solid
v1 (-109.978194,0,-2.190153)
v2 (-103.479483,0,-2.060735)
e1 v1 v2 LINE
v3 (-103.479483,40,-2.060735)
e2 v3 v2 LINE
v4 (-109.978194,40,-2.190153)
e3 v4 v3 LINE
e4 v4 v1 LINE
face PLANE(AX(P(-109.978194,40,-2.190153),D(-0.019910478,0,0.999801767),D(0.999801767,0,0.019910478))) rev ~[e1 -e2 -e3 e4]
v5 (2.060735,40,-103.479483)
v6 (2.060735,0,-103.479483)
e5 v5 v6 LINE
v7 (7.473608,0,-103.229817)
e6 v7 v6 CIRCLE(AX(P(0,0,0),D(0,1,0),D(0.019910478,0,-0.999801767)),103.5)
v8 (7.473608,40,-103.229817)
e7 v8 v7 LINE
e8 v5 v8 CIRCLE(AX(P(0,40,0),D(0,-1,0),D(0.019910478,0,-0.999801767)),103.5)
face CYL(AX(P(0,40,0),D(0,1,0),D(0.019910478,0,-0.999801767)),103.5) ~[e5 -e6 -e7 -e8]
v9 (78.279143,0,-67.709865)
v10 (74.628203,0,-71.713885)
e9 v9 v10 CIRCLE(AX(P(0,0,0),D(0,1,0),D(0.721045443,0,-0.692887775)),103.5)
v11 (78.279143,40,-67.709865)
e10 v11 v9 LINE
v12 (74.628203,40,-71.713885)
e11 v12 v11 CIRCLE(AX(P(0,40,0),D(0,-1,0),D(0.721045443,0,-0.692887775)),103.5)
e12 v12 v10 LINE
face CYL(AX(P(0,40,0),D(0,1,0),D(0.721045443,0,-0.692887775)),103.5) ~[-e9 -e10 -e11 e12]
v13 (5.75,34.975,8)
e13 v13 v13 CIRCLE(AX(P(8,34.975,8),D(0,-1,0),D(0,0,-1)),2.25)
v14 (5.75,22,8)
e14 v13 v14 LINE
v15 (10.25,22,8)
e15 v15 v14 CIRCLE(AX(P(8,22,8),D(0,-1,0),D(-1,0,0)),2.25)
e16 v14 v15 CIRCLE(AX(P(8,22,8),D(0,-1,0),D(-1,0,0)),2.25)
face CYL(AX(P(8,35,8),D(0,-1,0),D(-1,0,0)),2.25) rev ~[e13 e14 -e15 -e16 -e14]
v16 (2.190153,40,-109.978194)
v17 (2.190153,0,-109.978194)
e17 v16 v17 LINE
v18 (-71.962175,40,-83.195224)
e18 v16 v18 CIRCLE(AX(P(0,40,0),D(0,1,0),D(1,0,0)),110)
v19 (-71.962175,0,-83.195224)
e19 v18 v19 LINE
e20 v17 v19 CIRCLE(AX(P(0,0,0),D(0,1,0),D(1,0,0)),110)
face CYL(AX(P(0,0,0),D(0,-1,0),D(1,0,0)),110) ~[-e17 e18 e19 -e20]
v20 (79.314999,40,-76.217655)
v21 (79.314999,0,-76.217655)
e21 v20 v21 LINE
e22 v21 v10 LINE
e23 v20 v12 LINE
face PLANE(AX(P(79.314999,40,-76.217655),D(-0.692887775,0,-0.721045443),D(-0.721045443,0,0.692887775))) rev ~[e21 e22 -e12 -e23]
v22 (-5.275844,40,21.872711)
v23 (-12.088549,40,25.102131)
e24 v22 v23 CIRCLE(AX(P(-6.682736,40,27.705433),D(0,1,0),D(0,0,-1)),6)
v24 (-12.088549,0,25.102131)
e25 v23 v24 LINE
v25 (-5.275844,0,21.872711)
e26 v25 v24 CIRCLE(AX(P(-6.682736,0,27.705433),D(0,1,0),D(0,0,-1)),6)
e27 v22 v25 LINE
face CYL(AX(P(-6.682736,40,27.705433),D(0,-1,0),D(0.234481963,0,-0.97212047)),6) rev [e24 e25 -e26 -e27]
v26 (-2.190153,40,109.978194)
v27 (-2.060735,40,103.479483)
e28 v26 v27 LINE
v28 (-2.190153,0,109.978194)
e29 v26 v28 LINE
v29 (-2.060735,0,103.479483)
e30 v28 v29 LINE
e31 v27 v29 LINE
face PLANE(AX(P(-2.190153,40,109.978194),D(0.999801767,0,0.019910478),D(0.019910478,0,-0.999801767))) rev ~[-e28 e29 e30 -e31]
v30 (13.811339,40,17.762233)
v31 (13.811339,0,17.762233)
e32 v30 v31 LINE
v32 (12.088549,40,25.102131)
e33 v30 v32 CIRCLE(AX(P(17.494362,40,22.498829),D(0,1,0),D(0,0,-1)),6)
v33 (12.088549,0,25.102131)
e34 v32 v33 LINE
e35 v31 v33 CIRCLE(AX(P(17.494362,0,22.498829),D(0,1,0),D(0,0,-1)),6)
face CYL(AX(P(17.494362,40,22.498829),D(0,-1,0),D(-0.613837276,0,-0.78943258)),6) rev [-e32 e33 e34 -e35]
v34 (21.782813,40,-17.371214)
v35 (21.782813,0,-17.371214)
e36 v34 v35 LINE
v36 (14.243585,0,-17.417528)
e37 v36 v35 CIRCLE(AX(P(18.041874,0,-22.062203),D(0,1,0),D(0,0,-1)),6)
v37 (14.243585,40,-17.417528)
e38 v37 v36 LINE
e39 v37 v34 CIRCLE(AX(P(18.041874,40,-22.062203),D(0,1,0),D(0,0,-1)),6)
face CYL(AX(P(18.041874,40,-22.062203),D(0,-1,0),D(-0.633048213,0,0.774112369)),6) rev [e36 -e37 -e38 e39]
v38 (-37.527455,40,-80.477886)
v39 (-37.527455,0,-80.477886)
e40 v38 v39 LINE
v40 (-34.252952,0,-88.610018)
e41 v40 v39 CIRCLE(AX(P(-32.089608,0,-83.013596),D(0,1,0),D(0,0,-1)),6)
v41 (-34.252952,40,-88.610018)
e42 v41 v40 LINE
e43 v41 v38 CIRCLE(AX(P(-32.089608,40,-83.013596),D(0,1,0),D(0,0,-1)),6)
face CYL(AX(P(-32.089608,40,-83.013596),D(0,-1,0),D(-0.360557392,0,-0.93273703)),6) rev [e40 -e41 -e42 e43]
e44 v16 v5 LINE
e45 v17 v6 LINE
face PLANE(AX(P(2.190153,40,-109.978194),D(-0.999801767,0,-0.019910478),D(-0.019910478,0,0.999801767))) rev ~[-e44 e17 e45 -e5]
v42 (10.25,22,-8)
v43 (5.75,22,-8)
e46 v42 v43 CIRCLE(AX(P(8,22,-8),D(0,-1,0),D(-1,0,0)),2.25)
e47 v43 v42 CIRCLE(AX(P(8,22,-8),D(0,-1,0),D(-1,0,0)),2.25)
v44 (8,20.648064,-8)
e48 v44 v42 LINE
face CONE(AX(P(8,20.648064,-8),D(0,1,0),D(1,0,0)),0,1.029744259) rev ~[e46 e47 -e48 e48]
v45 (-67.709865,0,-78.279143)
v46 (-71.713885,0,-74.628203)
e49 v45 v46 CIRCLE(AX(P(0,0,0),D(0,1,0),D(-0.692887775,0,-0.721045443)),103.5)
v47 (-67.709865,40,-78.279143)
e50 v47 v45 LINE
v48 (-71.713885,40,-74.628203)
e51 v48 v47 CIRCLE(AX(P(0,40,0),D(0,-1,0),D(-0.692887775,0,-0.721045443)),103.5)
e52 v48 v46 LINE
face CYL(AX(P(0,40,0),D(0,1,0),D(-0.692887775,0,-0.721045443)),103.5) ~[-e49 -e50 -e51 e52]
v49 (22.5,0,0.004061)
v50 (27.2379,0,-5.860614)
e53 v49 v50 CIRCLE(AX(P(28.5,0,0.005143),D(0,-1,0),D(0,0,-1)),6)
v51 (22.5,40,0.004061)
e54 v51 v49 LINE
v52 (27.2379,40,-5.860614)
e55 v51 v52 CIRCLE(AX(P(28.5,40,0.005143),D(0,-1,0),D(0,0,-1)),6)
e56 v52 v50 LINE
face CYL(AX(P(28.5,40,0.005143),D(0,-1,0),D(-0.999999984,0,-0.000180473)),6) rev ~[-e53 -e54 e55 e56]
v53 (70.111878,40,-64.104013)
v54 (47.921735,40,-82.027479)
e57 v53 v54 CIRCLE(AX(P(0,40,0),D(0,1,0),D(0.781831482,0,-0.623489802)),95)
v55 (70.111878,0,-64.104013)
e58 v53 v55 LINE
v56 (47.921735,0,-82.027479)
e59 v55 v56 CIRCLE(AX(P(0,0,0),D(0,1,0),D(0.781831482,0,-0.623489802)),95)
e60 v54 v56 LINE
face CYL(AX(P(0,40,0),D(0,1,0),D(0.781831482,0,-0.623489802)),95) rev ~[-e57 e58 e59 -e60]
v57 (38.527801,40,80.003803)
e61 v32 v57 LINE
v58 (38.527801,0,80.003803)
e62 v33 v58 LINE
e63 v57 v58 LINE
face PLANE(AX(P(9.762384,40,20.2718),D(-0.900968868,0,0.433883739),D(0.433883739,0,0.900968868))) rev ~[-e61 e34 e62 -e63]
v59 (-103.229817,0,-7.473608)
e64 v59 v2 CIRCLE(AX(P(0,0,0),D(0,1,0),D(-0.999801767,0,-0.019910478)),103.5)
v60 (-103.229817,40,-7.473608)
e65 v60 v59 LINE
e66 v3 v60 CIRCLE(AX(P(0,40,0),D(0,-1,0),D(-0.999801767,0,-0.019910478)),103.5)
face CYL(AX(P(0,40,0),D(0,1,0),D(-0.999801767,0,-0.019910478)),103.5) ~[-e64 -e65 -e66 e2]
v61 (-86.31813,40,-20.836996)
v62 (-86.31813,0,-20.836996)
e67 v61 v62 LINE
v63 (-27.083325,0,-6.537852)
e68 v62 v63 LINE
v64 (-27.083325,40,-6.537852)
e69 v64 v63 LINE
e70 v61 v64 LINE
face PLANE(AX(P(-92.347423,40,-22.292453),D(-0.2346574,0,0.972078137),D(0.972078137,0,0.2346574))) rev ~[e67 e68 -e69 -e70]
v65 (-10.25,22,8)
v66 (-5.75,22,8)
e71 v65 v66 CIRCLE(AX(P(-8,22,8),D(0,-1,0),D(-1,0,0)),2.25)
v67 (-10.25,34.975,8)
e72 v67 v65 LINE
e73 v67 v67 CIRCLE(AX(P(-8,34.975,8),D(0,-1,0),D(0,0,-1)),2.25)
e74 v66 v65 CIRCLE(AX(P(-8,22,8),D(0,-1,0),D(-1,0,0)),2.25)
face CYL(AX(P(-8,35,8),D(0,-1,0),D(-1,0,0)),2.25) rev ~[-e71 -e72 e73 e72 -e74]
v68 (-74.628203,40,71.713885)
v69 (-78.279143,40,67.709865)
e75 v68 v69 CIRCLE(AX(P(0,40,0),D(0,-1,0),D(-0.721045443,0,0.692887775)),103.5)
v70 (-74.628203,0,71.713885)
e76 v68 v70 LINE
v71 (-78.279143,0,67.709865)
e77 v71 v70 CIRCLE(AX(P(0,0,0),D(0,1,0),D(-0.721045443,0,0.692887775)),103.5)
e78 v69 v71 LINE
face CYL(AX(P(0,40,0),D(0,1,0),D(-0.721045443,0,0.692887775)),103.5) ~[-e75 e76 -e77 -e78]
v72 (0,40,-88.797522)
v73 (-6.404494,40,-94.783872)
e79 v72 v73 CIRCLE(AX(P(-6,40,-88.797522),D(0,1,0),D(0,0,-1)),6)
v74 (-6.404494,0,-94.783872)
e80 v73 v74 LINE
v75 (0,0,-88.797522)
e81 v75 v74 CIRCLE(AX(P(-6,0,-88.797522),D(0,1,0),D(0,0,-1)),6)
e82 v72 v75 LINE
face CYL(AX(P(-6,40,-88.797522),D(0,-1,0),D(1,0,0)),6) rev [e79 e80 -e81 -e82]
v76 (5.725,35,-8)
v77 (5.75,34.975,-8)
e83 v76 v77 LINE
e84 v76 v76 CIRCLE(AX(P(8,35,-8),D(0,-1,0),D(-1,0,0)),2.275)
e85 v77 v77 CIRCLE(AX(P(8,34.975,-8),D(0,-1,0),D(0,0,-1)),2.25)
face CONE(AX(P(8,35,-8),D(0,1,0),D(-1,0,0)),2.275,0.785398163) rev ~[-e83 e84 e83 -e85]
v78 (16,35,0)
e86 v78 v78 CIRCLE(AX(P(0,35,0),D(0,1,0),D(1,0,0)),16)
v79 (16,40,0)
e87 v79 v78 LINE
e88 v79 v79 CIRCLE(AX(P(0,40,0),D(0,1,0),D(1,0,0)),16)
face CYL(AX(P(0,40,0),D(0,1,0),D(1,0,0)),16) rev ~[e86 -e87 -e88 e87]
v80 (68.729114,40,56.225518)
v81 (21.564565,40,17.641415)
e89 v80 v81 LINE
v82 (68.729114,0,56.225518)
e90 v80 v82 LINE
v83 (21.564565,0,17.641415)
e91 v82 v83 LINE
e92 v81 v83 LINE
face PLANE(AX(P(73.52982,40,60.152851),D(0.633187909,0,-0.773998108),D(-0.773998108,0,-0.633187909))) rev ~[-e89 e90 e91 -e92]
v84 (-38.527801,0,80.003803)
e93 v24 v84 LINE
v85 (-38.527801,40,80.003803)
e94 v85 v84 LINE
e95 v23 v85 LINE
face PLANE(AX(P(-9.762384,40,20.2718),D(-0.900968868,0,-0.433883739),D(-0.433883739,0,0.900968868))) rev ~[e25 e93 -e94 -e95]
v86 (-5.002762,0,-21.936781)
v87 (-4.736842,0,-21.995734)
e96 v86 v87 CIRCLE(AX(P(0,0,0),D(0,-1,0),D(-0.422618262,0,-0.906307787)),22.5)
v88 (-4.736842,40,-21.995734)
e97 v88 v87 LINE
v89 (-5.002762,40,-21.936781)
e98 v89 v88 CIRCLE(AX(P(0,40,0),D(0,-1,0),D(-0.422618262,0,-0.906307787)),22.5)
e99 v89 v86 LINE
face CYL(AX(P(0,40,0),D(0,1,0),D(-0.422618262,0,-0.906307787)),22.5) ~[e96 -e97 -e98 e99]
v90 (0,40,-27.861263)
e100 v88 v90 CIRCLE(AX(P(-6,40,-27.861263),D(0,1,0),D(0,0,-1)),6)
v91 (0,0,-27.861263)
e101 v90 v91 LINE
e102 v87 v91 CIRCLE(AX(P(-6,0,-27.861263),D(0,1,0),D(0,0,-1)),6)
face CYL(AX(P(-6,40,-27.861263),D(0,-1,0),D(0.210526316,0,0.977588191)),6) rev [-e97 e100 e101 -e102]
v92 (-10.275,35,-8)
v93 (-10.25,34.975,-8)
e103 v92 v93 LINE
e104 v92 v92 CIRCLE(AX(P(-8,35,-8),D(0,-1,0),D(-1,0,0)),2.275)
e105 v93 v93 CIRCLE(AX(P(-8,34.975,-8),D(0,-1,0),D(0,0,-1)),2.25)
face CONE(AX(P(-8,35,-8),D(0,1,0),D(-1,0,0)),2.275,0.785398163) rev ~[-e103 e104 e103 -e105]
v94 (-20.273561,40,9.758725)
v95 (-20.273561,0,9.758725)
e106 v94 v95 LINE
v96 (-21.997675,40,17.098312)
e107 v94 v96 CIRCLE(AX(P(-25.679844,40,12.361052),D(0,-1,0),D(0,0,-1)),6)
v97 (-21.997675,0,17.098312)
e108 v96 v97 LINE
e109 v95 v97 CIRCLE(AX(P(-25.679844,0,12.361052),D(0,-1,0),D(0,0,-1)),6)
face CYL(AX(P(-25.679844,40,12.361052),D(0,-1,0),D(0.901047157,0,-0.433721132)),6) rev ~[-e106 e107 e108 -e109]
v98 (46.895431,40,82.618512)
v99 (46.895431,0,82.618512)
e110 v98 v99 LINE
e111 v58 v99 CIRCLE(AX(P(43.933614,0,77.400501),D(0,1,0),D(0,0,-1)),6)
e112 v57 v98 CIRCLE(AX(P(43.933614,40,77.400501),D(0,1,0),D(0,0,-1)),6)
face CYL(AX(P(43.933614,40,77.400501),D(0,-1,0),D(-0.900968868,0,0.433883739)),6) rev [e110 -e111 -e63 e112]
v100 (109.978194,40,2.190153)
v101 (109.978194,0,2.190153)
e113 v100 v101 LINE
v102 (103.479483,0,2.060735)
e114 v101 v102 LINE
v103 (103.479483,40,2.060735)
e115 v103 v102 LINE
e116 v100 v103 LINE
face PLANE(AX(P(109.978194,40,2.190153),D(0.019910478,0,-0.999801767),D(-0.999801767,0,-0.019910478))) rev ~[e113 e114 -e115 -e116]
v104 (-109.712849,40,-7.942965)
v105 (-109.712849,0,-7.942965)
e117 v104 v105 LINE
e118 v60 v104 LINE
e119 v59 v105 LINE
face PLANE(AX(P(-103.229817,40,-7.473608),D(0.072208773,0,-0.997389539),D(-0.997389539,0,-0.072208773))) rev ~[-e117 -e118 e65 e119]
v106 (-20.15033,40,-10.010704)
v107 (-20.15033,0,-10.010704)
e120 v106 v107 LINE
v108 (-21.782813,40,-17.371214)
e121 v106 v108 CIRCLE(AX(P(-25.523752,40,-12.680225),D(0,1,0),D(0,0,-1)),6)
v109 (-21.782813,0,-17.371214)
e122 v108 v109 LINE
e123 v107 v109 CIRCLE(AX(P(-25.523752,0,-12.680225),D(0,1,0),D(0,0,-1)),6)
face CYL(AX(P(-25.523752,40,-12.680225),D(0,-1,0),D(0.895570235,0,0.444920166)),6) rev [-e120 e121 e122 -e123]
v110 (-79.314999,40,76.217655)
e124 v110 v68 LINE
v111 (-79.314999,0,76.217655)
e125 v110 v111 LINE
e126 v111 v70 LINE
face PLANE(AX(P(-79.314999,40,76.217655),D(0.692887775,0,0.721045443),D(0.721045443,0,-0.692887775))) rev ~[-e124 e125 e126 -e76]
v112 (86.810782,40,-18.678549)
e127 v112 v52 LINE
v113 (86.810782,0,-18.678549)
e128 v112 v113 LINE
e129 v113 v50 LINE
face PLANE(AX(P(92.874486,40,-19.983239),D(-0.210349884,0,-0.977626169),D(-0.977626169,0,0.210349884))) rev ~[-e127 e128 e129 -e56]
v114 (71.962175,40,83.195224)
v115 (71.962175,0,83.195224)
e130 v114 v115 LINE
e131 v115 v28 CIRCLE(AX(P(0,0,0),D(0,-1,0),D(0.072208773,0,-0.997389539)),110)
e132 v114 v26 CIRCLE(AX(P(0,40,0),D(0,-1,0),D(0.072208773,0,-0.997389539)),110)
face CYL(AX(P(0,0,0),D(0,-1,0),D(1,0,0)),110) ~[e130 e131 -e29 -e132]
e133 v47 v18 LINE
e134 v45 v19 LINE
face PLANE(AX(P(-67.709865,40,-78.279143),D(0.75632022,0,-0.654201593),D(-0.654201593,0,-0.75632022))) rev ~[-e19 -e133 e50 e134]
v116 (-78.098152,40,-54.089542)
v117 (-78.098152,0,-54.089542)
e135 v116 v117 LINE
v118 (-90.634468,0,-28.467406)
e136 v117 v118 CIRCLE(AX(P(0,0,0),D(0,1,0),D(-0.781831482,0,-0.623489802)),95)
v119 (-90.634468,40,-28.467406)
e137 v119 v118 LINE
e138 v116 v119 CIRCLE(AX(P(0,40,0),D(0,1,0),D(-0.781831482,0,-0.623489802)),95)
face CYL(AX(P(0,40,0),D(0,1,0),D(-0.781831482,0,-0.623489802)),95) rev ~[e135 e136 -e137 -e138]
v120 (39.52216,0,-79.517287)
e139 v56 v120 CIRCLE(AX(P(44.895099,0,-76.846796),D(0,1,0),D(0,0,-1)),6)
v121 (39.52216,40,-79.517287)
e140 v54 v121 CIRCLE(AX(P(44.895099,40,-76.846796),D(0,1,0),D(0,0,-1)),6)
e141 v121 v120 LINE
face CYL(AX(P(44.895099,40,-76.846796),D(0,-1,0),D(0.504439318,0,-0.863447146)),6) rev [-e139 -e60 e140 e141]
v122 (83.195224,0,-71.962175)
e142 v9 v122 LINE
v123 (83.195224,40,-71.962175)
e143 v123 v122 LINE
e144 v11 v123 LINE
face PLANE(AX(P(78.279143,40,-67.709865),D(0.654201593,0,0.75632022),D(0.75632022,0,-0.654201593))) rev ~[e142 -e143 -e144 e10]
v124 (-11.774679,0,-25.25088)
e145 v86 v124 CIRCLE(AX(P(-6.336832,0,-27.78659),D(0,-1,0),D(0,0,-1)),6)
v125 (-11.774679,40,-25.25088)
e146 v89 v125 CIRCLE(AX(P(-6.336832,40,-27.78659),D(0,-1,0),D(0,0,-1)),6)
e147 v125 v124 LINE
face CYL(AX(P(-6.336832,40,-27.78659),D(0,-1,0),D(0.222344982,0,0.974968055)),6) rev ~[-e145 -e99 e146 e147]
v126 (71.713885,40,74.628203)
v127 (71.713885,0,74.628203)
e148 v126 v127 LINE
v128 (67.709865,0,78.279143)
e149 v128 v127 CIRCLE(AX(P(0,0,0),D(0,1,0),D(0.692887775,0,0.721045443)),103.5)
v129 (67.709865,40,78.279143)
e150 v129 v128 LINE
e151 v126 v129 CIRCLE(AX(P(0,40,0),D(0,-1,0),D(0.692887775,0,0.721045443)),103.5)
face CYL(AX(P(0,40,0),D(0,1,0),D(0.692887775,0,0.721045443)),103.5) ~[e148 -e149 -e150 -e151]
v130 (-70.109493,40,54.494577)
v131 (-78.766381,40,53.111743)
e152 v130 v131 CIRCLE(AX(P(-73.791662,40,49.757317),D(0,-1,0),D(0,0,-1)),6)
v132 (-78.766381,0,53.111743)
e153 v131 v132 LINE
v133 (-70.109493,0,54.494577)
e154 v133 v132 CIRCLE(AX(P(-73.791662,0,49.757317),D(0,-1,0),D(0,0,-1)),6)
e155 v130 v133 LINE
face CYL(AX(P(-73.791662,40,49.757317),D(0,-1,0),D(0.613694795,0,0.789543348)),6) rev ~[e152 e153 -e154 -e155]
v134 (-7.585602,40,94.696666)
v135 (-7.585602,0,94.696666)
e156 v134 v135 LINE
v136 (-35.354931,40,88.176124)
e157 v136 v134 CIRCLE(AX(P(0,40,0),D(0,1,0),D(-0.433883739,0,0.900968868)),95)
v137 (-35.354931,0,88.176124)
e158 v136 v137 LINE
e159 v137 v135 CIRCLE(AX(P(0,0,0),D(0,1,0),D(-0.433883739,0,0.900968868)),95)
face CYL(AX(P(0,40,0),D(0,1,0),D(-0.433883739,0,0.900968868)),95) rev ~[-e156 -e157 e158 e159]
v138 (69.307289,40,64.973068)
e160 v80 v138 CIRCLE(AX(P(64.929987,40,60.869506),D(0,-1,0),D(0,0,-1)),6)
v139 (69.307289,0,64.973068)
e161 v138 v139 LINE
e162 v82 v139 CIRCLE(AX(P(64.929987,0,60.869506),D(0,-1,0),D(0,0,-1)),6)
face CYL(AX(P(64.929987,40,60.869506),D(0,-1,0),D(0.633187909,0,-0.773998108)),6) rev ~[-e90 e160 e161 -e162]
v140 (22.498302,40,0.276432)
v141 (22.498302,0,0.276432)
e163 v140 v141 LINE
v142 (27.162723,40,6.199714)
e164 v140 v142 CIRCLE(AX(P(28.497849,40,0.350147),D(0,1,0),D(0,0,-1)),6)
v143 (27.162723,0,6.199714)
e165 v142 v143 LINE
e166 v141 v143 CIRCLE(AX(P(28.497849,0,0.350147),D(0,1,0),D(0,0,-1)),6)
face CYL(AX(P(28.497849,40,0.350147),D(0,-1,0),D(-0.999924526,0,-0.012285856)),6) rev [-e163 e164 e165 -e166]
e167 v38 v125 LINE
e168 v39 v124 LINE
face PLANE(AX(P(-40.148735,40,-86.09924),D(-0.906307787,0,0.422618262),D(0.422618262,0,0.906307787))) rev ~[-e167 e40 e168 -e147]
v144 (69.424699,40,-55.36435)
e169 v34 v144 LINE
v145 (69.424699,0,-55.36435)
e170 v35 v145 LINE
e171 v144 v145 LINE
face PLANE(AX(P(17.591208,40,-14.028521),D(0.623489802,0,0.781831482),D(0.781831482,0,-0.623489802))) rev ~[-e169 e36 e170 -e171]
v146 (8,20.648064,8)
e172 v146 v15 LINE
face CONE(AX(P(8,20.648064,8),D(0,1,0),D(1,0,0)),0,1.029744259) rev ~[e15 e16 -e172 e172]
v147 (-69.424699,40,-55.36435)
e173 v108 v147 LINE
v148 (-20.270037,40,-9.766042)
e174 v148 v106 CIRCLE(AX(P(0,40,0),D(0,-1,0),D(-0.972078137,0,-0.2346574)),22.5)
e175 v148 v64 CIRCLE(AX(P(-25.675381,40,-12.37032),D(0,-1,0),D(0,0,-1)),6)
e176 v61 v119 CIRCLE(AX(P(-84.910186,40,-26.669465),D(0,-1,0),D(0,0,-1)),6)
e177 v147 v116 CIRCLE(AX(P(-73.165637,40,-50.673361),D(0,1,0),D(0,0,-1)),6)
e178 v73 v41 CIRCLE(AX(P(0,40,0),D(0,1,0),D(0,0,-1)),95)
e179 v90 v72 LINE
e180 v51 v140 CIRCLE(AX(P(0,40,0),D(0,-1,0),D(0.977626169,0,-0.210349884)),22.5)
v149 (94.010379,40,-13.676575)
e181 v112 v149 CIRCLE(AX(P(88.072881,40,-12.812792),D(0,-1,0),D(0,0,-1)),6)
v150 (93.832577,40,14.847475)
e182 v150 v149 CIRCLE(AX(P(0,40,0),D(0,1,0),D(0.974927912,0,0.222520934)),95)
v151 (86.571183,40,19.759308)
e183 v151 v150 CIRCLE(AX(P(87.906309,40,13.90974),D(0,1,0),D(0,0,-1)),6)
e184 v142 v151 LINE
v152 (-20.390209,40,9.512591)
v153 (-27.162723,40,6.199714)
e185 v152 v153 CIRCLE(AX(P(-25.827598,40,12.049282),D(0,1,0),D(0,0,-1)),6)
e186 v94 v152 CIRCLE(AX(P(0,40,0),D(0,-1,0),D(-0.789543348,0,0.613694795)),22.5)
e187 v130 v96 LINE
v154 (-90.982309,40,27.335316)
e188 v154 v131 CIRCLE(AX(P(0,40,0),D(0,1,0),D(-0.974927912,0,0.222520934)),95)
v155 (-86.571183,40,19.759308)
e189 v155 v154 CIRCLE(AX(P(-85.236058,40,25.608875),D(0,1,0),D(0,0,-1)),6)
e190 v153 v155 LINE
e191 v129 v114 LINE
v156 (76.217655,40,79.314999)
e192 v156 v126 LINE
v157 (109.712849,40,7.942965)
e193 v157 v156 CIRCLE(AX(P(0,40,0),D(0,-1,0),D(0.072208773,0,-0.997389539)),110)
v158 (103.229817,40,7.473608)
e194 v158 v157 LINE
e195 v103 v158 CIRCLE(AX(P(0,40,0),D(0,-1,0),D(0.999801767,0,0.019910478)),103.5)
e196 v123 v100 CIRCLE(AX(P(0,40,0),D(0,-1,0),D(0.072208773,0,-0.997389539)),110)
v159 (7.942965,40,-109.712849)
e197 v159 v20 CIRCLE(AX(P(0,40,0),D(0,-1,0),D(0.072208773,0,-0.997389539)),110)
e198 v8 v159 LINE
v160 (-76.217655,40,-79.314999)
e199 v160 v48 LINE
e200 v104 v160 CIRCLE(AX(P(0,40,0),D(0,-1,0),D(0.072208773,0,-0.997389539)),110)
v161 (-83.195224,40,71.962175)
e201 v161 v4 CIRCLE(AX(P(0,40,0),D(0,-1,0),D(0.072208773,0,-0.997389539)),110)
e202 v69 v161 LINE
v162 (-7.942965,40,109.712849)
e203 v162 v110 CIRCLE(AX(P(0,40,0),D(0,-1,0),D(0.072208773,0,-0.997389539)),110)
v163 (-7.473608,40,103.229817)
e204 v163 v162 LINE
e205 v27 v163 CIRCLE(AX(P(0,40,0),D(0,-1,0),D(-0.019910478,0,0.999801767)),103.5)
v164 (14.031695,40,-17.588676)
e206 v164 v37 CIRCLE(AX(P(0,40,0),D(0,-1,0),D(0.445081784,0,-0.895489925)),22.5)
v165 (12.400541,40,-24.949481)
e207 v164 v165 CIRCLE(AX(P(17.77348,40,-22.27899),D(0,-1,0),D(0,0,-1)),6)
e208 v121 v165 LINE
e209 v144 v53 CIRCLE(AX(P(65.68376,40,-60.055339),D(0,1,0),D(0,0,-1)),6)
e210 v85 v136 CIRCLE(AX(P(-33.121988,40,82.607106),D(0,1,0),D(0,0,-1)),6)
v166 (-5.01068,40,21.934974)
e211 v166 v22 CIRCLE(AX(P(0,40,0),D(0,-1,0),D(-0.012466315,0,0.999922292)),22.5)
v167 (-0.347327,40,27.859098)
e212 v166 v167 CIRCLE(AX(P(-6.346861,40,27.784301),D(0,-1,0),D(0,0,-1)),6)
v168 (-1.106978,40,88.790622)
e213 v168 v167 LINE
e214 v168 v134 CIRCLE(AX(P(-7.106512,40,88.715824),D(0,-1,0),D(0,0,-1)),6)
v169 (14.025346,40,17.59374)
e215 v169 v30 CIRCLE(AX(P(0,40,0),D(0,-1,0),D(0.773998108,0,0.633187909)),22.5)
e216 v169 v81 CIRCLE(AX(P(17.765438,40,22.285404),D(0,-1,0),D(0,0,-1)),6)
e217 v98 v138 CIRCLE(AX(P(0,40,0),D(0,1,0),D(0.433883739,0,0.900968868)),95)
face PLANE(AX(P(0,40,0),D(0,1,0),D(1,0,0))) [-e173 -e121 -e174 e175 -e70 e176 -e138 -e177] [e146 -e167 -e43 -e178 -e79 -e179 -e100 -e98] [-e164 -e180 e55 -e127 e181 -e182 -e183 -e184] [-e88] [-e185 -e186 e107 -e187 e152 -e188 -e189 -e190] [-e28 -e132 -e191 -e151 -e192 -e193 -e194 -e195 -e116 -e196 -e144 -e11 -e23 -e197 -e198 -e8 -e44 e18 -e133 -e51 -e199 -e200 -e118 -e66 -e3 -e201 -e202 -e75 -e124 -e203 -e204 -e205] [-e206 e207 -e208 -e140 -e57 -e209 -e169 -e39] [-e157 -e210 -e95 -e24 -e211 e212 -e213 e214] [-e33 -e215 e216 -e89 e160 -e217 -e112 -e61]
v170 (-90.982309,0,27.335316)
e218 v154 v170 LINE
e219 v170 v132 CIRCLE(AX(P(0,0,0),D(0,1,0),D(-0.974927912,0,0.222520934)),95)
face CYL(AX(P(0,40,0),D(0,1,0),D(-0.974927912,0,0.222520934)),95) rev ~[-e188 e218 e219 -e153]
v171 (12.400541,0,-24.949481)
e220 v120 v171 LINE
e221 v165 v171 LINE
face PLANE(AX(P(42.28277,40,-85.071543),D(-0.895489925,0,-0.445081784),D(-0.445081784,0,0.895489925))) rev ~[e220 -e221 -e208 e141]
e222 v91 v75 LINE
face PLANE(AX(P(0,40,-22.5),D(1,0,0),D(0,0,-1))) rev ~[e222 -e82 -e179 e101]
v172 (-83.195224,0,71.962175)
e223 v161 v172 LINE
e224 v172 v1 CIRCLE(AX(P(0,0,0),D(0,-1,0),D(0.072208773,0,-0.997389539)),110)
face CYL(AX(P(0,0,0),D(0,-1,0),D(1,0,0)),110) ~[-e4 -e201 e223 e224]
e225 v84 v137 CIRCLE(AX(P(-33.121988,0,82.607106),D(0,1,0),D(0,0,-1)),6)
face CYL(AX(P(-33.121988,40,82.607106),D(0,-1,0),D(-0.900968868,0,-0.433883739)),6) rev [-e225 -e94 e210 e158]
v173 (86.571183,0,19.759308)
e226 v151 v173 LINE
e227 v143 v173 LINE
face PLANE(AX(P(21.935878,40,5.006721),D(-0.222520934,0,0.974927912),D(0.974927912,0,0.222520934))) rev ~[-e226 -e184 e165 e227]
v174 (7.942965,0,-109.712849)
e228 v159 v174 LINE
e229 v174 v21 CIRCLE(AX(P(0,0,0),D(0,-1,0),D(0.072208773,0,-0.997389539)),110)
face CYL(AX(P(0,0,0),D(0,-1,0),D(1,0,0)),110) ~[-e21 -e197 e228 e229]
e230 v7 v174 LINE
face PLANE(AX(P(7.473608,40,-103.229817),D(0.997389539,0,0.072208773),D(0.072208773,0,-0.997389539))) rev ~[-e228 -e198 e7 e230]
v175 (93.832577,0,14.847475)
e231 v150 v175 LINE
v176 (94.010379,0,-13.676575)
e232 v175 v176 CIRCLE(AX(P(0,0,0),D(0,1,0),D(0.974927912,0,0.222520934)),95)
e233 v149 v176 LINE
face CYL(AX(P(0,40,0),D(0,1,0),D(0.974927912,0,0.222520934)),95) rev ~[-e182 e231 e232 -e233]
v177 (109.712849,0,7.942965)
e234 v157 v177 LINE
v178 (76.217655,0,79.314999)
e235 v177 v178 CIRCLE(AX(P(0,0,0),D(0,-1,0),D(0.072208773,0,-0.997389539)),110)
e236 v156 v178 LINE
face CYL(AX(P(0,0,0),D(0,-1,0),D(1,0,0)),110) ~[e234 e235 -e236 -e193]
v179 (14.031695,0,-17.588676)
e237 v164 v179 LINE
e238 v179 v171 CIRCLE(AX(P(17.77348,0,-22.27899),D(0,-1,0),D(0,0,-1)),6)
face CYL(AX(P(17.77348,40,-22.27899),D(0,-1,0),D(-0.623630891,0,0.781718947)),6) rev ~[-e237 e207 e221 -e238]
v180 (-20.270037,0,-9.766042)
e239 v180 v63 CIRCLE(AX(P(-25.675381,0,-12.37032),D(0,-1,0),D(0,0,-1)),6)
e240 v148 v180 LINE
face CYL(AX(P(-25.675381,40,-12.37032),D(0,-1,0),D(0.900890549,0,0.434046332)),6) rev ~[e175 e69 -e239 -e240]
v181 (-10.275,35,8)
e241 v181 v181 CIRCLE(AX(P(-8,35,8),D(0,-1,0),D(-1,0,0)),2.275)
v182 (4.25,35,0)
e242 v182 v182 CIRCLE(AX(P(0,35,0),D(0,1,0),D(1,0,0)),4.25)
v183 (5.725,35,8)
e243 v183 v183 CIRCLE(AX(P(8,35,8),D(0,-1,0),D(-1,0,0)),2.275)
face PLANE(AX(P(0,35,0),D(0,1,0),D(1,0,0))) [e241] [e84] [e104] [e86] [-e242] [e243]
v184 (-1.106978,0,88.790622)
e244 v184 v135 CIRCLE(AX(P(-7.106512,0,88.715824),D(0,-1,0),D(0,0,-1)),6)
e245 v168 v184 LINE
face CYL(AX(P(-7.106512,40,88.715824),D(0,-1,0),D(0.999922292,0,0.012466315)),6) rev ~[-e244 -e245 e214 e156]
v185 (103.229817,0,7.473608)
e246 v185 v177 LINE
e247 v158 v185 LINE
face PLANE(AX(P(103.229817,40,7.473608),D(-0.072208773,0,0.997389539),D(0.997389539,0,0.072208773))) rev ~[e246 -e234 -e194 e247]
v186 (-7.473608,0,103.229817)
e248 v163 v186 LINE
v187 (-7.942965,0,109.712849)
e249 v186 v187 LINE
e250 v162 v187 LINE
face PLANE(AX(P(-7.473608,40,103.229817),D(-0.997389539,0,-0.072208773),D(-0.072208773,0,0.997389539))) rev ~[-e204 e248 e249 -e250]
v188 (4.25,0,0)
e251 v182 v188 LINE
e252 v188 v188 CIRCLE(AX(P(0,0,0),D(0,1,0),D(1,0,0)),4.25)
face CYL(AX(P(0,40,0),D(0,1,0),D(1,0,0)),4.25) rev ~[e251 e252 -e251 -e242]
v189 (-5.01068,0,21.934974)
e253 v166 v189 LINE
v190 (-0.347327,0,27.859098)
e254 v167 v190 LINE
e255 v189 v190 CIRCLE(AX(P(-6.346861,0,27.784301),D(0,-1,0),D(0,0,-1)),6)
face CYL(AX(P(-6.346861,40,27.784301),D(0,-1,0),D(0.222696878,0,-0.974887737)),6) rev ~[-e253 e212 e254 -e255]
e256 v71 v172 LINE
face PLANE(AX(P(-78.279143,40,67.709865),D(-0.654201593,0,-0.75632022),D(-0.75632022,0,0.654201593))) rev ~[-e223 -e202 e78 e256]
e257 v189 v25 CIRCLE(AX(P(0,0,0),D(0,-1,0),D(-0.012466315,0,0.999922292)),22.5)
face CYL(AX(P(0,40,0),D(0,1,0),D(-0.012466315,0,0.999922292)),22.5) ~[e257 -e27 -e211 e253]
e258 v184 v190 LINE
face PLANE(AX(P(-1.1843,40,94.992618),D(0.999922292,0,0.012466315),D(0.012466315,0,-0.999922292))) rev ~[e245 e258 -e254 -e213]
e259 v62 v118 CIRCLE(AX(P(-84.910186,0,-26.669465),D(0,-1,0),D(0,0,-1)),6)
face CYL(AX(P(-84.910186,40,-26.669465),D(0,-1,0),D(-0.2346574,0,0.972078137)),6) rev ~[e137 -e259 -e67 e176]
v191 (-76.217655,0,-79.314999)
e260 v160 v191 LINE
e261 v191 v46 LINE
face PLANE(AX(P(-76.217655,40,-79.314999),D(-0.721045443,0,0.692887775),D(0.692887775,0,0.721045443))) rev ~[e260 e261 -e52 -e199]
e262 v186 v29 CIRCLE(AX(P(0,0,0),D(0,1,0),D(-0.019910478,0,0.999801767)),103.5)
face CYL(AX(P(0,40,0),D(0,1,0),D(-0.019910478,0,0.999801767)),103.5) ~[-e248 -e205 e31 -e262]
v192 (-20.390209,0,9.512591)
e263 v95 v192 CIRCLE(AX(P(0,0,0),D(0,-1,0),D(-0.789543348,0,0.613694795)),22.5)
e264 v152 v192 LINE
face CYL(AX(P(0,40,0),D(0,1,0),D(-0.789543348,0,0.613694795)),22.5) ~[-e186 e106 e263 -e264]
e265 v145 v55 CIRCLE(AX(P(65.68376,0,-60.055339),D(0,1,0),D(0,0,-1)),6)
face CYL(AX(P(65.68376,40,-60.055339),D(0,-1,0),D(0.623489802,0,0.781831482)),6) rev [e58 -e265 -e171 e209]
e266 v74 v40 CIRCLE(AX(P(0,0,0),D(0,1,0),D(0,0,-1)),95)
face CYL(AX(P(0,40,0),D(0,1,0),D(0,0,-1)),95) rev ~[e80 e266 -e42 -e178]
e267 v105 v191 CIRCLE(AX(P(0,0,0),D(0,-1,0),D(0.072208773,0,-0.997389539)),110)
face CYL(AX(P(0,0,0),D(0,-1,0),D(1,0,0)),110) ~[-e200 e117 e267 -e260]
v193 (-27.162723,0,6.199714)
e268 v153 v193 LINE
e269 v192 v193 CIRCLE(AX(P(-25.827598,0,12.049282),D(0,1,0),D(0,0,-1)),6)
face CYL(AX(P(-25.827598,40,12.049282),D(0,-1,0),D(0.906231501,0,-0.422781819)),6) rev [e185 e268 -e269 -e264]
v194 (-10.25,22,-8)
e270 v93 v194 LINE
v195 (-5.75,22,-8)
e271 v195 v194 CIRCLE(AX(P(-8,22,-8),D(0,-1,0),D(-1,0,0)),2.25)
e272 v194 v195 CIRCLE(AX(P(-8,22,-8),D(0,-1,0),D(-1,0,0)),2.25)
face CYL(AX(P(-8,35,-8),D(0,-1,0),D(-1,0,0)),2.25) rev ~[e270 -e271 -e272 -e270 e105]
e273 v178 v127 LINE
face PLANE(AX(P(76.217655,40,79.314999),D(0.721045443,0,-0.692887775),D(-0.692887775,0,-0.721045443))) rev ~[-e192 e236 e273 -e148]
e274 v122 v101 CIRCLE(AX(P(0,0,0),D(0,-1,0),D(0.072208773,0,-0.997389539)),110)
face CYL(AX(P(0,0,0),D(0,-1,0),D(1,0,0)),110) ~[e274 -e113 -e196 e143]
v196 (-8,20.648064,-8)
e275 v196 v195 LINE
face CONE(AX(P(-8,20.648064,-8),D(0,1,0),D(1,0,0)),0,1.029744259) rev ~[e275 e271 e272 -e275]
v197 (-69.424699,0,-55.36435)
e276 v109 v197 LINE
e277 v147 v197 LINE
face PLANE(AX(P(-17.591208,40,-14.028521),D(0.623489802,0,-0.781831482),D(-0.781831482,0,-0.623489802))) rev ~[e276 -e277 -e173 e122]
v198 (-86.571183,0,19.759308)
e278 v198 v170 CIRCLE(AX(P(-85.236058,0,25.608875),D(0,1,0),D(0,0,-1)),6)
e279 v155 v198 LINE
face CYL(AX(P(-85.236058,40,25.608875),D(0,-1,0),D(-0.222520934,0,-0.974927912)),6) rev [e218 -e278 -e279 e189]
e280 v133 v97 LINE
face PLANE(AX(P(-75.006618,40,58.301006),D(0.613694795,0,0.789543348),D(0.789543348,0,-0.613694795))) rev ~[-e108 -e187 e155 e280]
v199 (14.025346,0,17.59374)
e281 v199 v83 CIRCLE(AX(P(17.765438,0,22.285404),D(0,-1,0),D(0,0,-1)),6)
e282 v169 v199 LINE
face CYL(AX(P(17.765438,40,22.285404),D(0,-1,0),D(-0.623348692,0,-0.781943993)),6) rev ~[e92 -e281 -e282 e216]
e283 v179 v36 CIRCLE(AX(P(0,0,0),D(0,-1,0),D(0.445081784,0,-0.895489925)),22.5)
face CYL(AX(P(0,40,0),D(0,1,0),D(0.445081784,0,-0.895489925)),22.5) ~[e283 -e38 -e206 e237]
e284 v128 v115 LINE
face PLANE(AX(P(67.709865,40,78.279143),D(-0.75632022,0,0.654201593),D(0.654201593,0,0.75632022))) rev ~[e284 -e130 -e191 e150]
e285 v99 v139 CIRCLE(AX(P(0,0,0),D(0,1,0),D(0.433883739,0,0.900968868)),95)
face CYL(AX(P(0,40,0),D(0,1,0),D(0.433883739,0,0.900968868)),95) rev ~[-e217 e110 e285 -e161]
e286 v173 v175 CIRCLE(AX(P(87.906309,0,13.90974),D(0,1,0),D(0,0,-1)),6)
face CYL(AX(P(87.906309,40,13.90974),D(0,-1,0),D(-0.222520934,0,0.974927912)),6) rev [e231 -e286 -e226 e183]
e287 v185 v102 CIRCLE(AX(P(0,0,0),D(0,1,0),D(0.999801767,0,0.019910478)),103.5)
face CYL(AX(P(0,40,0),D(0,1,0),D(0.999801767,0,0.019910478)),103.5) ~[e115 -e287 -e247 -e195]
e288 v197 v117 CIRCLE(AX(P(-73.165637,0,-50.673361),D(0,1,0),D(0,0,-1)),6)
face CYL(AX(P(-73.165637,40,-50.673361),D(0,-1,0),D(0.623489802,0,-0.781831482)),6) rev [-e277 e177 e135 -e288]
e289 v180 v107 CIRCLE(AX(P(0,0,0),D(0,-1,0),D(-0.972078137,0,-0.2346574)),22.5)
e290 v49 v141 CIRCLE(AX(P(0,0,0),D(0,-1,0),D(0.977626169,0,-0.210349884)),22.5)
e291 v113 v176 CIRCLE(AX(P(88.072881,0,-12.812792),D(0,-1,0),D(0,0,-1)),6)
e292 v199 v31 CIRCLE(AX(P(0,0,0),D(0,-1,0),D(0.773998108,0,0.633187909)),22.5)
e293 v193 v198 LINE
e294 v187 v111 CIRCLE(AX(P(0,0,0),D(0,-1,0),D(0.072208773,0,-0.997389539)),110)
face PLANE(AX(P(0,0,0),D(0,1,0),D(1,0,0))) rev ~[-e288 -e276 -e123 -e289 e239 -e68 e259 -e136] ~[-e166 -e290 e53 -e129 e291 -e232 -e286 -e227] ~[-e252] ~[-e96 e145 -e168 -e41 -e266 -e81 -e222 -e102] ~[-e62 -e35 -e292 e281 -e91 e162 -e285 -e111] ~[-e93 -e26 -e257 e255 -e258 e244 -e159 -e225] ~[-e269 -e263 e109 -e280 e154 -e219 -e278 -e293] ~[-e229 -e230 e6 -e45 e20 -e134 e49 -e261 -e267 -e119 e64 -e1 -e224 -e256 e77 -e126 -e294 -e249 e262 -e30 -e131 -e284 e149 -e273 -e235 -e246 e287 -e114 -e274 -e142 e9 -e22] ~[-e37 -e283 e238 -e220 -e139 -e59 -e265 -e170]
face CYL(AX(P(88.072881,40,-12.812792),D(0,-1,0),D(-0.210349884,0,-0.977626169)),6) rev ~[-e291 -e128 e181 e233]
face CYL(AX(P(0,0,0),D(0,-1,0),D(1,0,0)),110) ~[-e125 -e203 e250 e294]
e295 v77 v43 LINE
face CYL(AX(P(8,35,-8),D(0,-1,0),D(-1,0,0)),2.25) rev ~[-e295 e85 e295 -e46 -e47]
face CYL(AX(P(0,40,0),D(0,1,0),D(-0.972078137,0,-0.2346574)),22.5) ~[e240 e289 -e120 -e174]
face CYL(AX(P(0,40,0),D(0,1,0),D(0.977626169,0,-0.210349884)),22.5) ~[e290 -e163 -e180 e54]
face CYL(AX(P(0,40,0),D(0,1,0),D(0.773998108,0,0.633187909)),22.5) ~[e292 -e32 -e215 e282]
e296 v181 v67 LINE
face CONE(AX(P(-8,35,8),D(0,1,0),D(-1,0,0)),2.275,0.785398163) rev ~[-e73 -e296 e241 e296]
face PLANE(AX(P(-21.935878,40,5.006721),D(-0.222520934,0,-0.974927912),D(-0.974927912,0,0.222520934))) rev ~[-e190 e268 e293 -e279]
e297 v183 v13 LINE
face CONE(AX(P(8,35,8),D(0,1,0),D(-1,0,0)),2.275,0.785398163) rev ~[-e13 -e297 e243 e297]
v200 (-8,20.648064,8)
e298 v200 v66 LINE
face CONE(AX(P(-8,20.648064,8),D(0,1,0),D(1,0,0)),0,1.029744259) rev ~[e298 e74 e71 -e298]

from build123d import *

# Parameters (mm, degrees)
SKETCH1_R                      = 110
BOSS_EXTRUDE1_DEPTH            = 40
CUT_EXTRUDE1_DEPTH             = 40
FILLET1_R                      = 6
SKETCH3_R                      = 4.25
CUT_EXTRUDE2_DEPTH             = 40
CIRPATTERN1_COUNT              = 7
FILLET1_OF_CIRPATTERN1_R       = 6
SKETCH4_R                      = 16
CUT_EXTRUDE3_DEPTH             = 5
M4_CLEARANCE_HOLE1_D           = 4.5
M4_CLEARANCE_HOLE1_DEPTH       = 13
M4_CLEARANCE_HOLE1_CSINK_D     = 4.55
M4_CLEARANCE_HOLE1_CSINK_ANGLE = 90
M4_CLEARANCE_HOLE1_TIP         = 1.351936393
CUT_EXTRUDE4_DEPTH             = 41
CIRPATTERN2_COUNT              = 8


with BuildPart() as part:
    # Sketch1 → Boss-Extrude1 (new body)
    with BuildSketch(Plane(origin=(0, 0, 0), x_dir=(1, 0, 0), z_dir=(0, 1, 0))):
        Circle(SKETCH1_R)
    extrude(amount=BOSS_EXTRUDE1_DEPTH)

    # Sketch2 → Cut-Extrude1 (cut)
    with BuildSketch(Plane(origin=(0, 40, 0), x_dir=(1, 0, 0), z_dir=(0, 1, 0))):
        with BuildLine():
            ThreePointArc((-9.508910889, 20.391925208), (-4.869891314, 21.96666016), (0, 22.5))
            Line((0, 22.5), (0, 95))
            ThreePointArc((0, 95), (-20.561763324, 92.748120676), (-40.148734865, 86.099239768))
            Line((-40.148734865, 86.099239768), (-9.508910889, 20.391925208))
        make_face()
    cut_extrude1 = extrude(amount=-CUT_EXTRUDE1_DEPTH, mode=Mode.SUBTRACT)

    # Fillet1
    fillet1_edges = [part.edges().sort_by_distance(p)[0] for p in [
        (0, 20, -22.5),
        (-9.508910889, 20, -20.391925208),
        (-40.148734865, 20, -86.099239768),
        (0, 20, -95),
    ]]
    fillet(fillet1_edges, radius=FILLET1_R)

    # Sketch3 → Cut-Extrude2 (cut)
    with BuildSketch(Plane(origin=(0, 40, 0), x_dir=(1, 0, 0), z_dir=(0, 1, 0))):
        Circle(SKETCH3_R)
    extrude(amount=-CUT_EXTRUDE2_DEPTH, mode=Mode.SUBTRACT)

    # CirPattern1: Cut-Extrude1 ×7 about axis
    cirpattern1_axis = Axis((0, 0, 0), (0, 1, 0))
    for i in range(1, CIRPATTERN1_COUNT):
        add(cut_extrude1.rotate(cirpattern1_axis, i * 360 / CIRPATTERN1_COUNT), mode=Mode.SUBTRACT)

    # Fillet1 of CirPattern1
    fillet1_of_cirpattern1_edges = [part.edges().sort_by_distance(p)[0] for p in [
        (-17.591208356, 20, -14.028520542),
        (-21.871758082, 20, -5.279791511),
        (-92.347423014, 20, -22.292453044),
        (-74.273990834, 20, -59.231531177),
        (-21.935878024, 20, 5.006721014),
        (-17.764725337, 20, 13.808132883),
        (-75.006618089, 20, 58.301005505),
        (-92.618151657, 20, 21.139488726),
        (-9.76238413, 20, 20.271799528),
        (-0.280492078, 20, 22.498251581),
        (-1.184299887, 20, 94.992617786),
        (-41.218955216, 20, 85.592042451),
        (9.76238413, 20, 20.271799528),
        (17.414957436, 20, 14.246727958),
        (73.529820285, 20, 60.152851377),
        (41.218955216, 20, 85.592042451),
        (21.935878024, 20, 5.006721014),
        (21.996588801, 20, -4.732872398),
        (92.874486047, 20, -19.983239013),
        (92.618151657, 20, 21.139488726),
        (17.591208356, 20, -14.028520542),
        (10.01434015, 20, -20.148523305),
        (42.282769521, 20, -85.071542842),
        (74.273990834, 20, -59.231531177),
    ]]
    fillet(fillet1_of_cirpattern1_edges, radius=FILLET1_OF_CIRPATTERN1_R)

    # Sketch4 → Cut-Extrude3 (cut)
    with BuildSketch(Plane(origin=(0, 40, 0), x_dir=(1, 0, 0), z_dir=(0, 1, 0))):
        Circle(SKETCH4_R)
    extrude(amount=-CUT_EXTRUDE3_DEPTH, mode=Mode.SUBTRACT)

    # M4 Clearance Hole1
    with Locations(Plane(origin=(0, 35, 0), x_dir=(1, 0, 0), z_dir=(0, 1, 0))):
        with Locations((8, 8), (-8, 8), (-8, -8), (8, -8)):
            CounterSinkHole(M4_CLEARANCE_HOLE1_D / 2, M4_CLEARANCE_HOLE1_CSINK_D / 2, depth=M4_CLEARANCE_HOLE1_DEPTH, counter_sink_angle=M4_CLEARANCE_HOLE1_CSINK_ANGLE)
            with Locations((0, 0, -(M4_CLEARANCE_HOLE1_DEPTH + M4_CLEARANCE_HOLE1_TIP / 2))):  # 118° drill point
                Cone(0, M4_CLEARANCE_HOLE1_D / 2, M4_CLEARANCE_HOLE1_TIP, mode=Mode.SUBTRACT)

    # Sketch10 → Cut-Extrude4 (cut, through all)
    with BuildSketch(Plane(origin=(0, 40, 0), x_dir=(1, 0, 0), z_dir=(0, 1, 0))):
        with BuildLine():
            ThreePointArc((2.060734507, 103.479482862), (4.768805418, 103.390079287), (7.473608029, 103.229817316))
            Line((7.473608029, 103.229817316), (7.942965055, 109.712849321))
            ThreePointArc((7.942965055, 109.712849321), (5.068295614, 109.883176053), (2.190152616, 109.978194346))
            Line((2.190152616, 109.978194346), (2.060734507, 103.479482862))
        make_face()
    cut_extrude4 = extrude(amount=-CUT_EXTRUDE4_DEPTH, mode=Mode.SUBTRACT)

    # CirPattern2: Cut-Extrude4 ×8 about axis
    cirpattern2_axis = Axis((0, 0, 0), (0, 1, 0))
    for i in range(1, CIRPATTERN2_COUNT):
        add(cut_extrude4.rotate(cirpattern2_axis, i * 360 / CIRPATTERN2_COUNT), mode=Mode.SUBTRACT)


solid = part.part
